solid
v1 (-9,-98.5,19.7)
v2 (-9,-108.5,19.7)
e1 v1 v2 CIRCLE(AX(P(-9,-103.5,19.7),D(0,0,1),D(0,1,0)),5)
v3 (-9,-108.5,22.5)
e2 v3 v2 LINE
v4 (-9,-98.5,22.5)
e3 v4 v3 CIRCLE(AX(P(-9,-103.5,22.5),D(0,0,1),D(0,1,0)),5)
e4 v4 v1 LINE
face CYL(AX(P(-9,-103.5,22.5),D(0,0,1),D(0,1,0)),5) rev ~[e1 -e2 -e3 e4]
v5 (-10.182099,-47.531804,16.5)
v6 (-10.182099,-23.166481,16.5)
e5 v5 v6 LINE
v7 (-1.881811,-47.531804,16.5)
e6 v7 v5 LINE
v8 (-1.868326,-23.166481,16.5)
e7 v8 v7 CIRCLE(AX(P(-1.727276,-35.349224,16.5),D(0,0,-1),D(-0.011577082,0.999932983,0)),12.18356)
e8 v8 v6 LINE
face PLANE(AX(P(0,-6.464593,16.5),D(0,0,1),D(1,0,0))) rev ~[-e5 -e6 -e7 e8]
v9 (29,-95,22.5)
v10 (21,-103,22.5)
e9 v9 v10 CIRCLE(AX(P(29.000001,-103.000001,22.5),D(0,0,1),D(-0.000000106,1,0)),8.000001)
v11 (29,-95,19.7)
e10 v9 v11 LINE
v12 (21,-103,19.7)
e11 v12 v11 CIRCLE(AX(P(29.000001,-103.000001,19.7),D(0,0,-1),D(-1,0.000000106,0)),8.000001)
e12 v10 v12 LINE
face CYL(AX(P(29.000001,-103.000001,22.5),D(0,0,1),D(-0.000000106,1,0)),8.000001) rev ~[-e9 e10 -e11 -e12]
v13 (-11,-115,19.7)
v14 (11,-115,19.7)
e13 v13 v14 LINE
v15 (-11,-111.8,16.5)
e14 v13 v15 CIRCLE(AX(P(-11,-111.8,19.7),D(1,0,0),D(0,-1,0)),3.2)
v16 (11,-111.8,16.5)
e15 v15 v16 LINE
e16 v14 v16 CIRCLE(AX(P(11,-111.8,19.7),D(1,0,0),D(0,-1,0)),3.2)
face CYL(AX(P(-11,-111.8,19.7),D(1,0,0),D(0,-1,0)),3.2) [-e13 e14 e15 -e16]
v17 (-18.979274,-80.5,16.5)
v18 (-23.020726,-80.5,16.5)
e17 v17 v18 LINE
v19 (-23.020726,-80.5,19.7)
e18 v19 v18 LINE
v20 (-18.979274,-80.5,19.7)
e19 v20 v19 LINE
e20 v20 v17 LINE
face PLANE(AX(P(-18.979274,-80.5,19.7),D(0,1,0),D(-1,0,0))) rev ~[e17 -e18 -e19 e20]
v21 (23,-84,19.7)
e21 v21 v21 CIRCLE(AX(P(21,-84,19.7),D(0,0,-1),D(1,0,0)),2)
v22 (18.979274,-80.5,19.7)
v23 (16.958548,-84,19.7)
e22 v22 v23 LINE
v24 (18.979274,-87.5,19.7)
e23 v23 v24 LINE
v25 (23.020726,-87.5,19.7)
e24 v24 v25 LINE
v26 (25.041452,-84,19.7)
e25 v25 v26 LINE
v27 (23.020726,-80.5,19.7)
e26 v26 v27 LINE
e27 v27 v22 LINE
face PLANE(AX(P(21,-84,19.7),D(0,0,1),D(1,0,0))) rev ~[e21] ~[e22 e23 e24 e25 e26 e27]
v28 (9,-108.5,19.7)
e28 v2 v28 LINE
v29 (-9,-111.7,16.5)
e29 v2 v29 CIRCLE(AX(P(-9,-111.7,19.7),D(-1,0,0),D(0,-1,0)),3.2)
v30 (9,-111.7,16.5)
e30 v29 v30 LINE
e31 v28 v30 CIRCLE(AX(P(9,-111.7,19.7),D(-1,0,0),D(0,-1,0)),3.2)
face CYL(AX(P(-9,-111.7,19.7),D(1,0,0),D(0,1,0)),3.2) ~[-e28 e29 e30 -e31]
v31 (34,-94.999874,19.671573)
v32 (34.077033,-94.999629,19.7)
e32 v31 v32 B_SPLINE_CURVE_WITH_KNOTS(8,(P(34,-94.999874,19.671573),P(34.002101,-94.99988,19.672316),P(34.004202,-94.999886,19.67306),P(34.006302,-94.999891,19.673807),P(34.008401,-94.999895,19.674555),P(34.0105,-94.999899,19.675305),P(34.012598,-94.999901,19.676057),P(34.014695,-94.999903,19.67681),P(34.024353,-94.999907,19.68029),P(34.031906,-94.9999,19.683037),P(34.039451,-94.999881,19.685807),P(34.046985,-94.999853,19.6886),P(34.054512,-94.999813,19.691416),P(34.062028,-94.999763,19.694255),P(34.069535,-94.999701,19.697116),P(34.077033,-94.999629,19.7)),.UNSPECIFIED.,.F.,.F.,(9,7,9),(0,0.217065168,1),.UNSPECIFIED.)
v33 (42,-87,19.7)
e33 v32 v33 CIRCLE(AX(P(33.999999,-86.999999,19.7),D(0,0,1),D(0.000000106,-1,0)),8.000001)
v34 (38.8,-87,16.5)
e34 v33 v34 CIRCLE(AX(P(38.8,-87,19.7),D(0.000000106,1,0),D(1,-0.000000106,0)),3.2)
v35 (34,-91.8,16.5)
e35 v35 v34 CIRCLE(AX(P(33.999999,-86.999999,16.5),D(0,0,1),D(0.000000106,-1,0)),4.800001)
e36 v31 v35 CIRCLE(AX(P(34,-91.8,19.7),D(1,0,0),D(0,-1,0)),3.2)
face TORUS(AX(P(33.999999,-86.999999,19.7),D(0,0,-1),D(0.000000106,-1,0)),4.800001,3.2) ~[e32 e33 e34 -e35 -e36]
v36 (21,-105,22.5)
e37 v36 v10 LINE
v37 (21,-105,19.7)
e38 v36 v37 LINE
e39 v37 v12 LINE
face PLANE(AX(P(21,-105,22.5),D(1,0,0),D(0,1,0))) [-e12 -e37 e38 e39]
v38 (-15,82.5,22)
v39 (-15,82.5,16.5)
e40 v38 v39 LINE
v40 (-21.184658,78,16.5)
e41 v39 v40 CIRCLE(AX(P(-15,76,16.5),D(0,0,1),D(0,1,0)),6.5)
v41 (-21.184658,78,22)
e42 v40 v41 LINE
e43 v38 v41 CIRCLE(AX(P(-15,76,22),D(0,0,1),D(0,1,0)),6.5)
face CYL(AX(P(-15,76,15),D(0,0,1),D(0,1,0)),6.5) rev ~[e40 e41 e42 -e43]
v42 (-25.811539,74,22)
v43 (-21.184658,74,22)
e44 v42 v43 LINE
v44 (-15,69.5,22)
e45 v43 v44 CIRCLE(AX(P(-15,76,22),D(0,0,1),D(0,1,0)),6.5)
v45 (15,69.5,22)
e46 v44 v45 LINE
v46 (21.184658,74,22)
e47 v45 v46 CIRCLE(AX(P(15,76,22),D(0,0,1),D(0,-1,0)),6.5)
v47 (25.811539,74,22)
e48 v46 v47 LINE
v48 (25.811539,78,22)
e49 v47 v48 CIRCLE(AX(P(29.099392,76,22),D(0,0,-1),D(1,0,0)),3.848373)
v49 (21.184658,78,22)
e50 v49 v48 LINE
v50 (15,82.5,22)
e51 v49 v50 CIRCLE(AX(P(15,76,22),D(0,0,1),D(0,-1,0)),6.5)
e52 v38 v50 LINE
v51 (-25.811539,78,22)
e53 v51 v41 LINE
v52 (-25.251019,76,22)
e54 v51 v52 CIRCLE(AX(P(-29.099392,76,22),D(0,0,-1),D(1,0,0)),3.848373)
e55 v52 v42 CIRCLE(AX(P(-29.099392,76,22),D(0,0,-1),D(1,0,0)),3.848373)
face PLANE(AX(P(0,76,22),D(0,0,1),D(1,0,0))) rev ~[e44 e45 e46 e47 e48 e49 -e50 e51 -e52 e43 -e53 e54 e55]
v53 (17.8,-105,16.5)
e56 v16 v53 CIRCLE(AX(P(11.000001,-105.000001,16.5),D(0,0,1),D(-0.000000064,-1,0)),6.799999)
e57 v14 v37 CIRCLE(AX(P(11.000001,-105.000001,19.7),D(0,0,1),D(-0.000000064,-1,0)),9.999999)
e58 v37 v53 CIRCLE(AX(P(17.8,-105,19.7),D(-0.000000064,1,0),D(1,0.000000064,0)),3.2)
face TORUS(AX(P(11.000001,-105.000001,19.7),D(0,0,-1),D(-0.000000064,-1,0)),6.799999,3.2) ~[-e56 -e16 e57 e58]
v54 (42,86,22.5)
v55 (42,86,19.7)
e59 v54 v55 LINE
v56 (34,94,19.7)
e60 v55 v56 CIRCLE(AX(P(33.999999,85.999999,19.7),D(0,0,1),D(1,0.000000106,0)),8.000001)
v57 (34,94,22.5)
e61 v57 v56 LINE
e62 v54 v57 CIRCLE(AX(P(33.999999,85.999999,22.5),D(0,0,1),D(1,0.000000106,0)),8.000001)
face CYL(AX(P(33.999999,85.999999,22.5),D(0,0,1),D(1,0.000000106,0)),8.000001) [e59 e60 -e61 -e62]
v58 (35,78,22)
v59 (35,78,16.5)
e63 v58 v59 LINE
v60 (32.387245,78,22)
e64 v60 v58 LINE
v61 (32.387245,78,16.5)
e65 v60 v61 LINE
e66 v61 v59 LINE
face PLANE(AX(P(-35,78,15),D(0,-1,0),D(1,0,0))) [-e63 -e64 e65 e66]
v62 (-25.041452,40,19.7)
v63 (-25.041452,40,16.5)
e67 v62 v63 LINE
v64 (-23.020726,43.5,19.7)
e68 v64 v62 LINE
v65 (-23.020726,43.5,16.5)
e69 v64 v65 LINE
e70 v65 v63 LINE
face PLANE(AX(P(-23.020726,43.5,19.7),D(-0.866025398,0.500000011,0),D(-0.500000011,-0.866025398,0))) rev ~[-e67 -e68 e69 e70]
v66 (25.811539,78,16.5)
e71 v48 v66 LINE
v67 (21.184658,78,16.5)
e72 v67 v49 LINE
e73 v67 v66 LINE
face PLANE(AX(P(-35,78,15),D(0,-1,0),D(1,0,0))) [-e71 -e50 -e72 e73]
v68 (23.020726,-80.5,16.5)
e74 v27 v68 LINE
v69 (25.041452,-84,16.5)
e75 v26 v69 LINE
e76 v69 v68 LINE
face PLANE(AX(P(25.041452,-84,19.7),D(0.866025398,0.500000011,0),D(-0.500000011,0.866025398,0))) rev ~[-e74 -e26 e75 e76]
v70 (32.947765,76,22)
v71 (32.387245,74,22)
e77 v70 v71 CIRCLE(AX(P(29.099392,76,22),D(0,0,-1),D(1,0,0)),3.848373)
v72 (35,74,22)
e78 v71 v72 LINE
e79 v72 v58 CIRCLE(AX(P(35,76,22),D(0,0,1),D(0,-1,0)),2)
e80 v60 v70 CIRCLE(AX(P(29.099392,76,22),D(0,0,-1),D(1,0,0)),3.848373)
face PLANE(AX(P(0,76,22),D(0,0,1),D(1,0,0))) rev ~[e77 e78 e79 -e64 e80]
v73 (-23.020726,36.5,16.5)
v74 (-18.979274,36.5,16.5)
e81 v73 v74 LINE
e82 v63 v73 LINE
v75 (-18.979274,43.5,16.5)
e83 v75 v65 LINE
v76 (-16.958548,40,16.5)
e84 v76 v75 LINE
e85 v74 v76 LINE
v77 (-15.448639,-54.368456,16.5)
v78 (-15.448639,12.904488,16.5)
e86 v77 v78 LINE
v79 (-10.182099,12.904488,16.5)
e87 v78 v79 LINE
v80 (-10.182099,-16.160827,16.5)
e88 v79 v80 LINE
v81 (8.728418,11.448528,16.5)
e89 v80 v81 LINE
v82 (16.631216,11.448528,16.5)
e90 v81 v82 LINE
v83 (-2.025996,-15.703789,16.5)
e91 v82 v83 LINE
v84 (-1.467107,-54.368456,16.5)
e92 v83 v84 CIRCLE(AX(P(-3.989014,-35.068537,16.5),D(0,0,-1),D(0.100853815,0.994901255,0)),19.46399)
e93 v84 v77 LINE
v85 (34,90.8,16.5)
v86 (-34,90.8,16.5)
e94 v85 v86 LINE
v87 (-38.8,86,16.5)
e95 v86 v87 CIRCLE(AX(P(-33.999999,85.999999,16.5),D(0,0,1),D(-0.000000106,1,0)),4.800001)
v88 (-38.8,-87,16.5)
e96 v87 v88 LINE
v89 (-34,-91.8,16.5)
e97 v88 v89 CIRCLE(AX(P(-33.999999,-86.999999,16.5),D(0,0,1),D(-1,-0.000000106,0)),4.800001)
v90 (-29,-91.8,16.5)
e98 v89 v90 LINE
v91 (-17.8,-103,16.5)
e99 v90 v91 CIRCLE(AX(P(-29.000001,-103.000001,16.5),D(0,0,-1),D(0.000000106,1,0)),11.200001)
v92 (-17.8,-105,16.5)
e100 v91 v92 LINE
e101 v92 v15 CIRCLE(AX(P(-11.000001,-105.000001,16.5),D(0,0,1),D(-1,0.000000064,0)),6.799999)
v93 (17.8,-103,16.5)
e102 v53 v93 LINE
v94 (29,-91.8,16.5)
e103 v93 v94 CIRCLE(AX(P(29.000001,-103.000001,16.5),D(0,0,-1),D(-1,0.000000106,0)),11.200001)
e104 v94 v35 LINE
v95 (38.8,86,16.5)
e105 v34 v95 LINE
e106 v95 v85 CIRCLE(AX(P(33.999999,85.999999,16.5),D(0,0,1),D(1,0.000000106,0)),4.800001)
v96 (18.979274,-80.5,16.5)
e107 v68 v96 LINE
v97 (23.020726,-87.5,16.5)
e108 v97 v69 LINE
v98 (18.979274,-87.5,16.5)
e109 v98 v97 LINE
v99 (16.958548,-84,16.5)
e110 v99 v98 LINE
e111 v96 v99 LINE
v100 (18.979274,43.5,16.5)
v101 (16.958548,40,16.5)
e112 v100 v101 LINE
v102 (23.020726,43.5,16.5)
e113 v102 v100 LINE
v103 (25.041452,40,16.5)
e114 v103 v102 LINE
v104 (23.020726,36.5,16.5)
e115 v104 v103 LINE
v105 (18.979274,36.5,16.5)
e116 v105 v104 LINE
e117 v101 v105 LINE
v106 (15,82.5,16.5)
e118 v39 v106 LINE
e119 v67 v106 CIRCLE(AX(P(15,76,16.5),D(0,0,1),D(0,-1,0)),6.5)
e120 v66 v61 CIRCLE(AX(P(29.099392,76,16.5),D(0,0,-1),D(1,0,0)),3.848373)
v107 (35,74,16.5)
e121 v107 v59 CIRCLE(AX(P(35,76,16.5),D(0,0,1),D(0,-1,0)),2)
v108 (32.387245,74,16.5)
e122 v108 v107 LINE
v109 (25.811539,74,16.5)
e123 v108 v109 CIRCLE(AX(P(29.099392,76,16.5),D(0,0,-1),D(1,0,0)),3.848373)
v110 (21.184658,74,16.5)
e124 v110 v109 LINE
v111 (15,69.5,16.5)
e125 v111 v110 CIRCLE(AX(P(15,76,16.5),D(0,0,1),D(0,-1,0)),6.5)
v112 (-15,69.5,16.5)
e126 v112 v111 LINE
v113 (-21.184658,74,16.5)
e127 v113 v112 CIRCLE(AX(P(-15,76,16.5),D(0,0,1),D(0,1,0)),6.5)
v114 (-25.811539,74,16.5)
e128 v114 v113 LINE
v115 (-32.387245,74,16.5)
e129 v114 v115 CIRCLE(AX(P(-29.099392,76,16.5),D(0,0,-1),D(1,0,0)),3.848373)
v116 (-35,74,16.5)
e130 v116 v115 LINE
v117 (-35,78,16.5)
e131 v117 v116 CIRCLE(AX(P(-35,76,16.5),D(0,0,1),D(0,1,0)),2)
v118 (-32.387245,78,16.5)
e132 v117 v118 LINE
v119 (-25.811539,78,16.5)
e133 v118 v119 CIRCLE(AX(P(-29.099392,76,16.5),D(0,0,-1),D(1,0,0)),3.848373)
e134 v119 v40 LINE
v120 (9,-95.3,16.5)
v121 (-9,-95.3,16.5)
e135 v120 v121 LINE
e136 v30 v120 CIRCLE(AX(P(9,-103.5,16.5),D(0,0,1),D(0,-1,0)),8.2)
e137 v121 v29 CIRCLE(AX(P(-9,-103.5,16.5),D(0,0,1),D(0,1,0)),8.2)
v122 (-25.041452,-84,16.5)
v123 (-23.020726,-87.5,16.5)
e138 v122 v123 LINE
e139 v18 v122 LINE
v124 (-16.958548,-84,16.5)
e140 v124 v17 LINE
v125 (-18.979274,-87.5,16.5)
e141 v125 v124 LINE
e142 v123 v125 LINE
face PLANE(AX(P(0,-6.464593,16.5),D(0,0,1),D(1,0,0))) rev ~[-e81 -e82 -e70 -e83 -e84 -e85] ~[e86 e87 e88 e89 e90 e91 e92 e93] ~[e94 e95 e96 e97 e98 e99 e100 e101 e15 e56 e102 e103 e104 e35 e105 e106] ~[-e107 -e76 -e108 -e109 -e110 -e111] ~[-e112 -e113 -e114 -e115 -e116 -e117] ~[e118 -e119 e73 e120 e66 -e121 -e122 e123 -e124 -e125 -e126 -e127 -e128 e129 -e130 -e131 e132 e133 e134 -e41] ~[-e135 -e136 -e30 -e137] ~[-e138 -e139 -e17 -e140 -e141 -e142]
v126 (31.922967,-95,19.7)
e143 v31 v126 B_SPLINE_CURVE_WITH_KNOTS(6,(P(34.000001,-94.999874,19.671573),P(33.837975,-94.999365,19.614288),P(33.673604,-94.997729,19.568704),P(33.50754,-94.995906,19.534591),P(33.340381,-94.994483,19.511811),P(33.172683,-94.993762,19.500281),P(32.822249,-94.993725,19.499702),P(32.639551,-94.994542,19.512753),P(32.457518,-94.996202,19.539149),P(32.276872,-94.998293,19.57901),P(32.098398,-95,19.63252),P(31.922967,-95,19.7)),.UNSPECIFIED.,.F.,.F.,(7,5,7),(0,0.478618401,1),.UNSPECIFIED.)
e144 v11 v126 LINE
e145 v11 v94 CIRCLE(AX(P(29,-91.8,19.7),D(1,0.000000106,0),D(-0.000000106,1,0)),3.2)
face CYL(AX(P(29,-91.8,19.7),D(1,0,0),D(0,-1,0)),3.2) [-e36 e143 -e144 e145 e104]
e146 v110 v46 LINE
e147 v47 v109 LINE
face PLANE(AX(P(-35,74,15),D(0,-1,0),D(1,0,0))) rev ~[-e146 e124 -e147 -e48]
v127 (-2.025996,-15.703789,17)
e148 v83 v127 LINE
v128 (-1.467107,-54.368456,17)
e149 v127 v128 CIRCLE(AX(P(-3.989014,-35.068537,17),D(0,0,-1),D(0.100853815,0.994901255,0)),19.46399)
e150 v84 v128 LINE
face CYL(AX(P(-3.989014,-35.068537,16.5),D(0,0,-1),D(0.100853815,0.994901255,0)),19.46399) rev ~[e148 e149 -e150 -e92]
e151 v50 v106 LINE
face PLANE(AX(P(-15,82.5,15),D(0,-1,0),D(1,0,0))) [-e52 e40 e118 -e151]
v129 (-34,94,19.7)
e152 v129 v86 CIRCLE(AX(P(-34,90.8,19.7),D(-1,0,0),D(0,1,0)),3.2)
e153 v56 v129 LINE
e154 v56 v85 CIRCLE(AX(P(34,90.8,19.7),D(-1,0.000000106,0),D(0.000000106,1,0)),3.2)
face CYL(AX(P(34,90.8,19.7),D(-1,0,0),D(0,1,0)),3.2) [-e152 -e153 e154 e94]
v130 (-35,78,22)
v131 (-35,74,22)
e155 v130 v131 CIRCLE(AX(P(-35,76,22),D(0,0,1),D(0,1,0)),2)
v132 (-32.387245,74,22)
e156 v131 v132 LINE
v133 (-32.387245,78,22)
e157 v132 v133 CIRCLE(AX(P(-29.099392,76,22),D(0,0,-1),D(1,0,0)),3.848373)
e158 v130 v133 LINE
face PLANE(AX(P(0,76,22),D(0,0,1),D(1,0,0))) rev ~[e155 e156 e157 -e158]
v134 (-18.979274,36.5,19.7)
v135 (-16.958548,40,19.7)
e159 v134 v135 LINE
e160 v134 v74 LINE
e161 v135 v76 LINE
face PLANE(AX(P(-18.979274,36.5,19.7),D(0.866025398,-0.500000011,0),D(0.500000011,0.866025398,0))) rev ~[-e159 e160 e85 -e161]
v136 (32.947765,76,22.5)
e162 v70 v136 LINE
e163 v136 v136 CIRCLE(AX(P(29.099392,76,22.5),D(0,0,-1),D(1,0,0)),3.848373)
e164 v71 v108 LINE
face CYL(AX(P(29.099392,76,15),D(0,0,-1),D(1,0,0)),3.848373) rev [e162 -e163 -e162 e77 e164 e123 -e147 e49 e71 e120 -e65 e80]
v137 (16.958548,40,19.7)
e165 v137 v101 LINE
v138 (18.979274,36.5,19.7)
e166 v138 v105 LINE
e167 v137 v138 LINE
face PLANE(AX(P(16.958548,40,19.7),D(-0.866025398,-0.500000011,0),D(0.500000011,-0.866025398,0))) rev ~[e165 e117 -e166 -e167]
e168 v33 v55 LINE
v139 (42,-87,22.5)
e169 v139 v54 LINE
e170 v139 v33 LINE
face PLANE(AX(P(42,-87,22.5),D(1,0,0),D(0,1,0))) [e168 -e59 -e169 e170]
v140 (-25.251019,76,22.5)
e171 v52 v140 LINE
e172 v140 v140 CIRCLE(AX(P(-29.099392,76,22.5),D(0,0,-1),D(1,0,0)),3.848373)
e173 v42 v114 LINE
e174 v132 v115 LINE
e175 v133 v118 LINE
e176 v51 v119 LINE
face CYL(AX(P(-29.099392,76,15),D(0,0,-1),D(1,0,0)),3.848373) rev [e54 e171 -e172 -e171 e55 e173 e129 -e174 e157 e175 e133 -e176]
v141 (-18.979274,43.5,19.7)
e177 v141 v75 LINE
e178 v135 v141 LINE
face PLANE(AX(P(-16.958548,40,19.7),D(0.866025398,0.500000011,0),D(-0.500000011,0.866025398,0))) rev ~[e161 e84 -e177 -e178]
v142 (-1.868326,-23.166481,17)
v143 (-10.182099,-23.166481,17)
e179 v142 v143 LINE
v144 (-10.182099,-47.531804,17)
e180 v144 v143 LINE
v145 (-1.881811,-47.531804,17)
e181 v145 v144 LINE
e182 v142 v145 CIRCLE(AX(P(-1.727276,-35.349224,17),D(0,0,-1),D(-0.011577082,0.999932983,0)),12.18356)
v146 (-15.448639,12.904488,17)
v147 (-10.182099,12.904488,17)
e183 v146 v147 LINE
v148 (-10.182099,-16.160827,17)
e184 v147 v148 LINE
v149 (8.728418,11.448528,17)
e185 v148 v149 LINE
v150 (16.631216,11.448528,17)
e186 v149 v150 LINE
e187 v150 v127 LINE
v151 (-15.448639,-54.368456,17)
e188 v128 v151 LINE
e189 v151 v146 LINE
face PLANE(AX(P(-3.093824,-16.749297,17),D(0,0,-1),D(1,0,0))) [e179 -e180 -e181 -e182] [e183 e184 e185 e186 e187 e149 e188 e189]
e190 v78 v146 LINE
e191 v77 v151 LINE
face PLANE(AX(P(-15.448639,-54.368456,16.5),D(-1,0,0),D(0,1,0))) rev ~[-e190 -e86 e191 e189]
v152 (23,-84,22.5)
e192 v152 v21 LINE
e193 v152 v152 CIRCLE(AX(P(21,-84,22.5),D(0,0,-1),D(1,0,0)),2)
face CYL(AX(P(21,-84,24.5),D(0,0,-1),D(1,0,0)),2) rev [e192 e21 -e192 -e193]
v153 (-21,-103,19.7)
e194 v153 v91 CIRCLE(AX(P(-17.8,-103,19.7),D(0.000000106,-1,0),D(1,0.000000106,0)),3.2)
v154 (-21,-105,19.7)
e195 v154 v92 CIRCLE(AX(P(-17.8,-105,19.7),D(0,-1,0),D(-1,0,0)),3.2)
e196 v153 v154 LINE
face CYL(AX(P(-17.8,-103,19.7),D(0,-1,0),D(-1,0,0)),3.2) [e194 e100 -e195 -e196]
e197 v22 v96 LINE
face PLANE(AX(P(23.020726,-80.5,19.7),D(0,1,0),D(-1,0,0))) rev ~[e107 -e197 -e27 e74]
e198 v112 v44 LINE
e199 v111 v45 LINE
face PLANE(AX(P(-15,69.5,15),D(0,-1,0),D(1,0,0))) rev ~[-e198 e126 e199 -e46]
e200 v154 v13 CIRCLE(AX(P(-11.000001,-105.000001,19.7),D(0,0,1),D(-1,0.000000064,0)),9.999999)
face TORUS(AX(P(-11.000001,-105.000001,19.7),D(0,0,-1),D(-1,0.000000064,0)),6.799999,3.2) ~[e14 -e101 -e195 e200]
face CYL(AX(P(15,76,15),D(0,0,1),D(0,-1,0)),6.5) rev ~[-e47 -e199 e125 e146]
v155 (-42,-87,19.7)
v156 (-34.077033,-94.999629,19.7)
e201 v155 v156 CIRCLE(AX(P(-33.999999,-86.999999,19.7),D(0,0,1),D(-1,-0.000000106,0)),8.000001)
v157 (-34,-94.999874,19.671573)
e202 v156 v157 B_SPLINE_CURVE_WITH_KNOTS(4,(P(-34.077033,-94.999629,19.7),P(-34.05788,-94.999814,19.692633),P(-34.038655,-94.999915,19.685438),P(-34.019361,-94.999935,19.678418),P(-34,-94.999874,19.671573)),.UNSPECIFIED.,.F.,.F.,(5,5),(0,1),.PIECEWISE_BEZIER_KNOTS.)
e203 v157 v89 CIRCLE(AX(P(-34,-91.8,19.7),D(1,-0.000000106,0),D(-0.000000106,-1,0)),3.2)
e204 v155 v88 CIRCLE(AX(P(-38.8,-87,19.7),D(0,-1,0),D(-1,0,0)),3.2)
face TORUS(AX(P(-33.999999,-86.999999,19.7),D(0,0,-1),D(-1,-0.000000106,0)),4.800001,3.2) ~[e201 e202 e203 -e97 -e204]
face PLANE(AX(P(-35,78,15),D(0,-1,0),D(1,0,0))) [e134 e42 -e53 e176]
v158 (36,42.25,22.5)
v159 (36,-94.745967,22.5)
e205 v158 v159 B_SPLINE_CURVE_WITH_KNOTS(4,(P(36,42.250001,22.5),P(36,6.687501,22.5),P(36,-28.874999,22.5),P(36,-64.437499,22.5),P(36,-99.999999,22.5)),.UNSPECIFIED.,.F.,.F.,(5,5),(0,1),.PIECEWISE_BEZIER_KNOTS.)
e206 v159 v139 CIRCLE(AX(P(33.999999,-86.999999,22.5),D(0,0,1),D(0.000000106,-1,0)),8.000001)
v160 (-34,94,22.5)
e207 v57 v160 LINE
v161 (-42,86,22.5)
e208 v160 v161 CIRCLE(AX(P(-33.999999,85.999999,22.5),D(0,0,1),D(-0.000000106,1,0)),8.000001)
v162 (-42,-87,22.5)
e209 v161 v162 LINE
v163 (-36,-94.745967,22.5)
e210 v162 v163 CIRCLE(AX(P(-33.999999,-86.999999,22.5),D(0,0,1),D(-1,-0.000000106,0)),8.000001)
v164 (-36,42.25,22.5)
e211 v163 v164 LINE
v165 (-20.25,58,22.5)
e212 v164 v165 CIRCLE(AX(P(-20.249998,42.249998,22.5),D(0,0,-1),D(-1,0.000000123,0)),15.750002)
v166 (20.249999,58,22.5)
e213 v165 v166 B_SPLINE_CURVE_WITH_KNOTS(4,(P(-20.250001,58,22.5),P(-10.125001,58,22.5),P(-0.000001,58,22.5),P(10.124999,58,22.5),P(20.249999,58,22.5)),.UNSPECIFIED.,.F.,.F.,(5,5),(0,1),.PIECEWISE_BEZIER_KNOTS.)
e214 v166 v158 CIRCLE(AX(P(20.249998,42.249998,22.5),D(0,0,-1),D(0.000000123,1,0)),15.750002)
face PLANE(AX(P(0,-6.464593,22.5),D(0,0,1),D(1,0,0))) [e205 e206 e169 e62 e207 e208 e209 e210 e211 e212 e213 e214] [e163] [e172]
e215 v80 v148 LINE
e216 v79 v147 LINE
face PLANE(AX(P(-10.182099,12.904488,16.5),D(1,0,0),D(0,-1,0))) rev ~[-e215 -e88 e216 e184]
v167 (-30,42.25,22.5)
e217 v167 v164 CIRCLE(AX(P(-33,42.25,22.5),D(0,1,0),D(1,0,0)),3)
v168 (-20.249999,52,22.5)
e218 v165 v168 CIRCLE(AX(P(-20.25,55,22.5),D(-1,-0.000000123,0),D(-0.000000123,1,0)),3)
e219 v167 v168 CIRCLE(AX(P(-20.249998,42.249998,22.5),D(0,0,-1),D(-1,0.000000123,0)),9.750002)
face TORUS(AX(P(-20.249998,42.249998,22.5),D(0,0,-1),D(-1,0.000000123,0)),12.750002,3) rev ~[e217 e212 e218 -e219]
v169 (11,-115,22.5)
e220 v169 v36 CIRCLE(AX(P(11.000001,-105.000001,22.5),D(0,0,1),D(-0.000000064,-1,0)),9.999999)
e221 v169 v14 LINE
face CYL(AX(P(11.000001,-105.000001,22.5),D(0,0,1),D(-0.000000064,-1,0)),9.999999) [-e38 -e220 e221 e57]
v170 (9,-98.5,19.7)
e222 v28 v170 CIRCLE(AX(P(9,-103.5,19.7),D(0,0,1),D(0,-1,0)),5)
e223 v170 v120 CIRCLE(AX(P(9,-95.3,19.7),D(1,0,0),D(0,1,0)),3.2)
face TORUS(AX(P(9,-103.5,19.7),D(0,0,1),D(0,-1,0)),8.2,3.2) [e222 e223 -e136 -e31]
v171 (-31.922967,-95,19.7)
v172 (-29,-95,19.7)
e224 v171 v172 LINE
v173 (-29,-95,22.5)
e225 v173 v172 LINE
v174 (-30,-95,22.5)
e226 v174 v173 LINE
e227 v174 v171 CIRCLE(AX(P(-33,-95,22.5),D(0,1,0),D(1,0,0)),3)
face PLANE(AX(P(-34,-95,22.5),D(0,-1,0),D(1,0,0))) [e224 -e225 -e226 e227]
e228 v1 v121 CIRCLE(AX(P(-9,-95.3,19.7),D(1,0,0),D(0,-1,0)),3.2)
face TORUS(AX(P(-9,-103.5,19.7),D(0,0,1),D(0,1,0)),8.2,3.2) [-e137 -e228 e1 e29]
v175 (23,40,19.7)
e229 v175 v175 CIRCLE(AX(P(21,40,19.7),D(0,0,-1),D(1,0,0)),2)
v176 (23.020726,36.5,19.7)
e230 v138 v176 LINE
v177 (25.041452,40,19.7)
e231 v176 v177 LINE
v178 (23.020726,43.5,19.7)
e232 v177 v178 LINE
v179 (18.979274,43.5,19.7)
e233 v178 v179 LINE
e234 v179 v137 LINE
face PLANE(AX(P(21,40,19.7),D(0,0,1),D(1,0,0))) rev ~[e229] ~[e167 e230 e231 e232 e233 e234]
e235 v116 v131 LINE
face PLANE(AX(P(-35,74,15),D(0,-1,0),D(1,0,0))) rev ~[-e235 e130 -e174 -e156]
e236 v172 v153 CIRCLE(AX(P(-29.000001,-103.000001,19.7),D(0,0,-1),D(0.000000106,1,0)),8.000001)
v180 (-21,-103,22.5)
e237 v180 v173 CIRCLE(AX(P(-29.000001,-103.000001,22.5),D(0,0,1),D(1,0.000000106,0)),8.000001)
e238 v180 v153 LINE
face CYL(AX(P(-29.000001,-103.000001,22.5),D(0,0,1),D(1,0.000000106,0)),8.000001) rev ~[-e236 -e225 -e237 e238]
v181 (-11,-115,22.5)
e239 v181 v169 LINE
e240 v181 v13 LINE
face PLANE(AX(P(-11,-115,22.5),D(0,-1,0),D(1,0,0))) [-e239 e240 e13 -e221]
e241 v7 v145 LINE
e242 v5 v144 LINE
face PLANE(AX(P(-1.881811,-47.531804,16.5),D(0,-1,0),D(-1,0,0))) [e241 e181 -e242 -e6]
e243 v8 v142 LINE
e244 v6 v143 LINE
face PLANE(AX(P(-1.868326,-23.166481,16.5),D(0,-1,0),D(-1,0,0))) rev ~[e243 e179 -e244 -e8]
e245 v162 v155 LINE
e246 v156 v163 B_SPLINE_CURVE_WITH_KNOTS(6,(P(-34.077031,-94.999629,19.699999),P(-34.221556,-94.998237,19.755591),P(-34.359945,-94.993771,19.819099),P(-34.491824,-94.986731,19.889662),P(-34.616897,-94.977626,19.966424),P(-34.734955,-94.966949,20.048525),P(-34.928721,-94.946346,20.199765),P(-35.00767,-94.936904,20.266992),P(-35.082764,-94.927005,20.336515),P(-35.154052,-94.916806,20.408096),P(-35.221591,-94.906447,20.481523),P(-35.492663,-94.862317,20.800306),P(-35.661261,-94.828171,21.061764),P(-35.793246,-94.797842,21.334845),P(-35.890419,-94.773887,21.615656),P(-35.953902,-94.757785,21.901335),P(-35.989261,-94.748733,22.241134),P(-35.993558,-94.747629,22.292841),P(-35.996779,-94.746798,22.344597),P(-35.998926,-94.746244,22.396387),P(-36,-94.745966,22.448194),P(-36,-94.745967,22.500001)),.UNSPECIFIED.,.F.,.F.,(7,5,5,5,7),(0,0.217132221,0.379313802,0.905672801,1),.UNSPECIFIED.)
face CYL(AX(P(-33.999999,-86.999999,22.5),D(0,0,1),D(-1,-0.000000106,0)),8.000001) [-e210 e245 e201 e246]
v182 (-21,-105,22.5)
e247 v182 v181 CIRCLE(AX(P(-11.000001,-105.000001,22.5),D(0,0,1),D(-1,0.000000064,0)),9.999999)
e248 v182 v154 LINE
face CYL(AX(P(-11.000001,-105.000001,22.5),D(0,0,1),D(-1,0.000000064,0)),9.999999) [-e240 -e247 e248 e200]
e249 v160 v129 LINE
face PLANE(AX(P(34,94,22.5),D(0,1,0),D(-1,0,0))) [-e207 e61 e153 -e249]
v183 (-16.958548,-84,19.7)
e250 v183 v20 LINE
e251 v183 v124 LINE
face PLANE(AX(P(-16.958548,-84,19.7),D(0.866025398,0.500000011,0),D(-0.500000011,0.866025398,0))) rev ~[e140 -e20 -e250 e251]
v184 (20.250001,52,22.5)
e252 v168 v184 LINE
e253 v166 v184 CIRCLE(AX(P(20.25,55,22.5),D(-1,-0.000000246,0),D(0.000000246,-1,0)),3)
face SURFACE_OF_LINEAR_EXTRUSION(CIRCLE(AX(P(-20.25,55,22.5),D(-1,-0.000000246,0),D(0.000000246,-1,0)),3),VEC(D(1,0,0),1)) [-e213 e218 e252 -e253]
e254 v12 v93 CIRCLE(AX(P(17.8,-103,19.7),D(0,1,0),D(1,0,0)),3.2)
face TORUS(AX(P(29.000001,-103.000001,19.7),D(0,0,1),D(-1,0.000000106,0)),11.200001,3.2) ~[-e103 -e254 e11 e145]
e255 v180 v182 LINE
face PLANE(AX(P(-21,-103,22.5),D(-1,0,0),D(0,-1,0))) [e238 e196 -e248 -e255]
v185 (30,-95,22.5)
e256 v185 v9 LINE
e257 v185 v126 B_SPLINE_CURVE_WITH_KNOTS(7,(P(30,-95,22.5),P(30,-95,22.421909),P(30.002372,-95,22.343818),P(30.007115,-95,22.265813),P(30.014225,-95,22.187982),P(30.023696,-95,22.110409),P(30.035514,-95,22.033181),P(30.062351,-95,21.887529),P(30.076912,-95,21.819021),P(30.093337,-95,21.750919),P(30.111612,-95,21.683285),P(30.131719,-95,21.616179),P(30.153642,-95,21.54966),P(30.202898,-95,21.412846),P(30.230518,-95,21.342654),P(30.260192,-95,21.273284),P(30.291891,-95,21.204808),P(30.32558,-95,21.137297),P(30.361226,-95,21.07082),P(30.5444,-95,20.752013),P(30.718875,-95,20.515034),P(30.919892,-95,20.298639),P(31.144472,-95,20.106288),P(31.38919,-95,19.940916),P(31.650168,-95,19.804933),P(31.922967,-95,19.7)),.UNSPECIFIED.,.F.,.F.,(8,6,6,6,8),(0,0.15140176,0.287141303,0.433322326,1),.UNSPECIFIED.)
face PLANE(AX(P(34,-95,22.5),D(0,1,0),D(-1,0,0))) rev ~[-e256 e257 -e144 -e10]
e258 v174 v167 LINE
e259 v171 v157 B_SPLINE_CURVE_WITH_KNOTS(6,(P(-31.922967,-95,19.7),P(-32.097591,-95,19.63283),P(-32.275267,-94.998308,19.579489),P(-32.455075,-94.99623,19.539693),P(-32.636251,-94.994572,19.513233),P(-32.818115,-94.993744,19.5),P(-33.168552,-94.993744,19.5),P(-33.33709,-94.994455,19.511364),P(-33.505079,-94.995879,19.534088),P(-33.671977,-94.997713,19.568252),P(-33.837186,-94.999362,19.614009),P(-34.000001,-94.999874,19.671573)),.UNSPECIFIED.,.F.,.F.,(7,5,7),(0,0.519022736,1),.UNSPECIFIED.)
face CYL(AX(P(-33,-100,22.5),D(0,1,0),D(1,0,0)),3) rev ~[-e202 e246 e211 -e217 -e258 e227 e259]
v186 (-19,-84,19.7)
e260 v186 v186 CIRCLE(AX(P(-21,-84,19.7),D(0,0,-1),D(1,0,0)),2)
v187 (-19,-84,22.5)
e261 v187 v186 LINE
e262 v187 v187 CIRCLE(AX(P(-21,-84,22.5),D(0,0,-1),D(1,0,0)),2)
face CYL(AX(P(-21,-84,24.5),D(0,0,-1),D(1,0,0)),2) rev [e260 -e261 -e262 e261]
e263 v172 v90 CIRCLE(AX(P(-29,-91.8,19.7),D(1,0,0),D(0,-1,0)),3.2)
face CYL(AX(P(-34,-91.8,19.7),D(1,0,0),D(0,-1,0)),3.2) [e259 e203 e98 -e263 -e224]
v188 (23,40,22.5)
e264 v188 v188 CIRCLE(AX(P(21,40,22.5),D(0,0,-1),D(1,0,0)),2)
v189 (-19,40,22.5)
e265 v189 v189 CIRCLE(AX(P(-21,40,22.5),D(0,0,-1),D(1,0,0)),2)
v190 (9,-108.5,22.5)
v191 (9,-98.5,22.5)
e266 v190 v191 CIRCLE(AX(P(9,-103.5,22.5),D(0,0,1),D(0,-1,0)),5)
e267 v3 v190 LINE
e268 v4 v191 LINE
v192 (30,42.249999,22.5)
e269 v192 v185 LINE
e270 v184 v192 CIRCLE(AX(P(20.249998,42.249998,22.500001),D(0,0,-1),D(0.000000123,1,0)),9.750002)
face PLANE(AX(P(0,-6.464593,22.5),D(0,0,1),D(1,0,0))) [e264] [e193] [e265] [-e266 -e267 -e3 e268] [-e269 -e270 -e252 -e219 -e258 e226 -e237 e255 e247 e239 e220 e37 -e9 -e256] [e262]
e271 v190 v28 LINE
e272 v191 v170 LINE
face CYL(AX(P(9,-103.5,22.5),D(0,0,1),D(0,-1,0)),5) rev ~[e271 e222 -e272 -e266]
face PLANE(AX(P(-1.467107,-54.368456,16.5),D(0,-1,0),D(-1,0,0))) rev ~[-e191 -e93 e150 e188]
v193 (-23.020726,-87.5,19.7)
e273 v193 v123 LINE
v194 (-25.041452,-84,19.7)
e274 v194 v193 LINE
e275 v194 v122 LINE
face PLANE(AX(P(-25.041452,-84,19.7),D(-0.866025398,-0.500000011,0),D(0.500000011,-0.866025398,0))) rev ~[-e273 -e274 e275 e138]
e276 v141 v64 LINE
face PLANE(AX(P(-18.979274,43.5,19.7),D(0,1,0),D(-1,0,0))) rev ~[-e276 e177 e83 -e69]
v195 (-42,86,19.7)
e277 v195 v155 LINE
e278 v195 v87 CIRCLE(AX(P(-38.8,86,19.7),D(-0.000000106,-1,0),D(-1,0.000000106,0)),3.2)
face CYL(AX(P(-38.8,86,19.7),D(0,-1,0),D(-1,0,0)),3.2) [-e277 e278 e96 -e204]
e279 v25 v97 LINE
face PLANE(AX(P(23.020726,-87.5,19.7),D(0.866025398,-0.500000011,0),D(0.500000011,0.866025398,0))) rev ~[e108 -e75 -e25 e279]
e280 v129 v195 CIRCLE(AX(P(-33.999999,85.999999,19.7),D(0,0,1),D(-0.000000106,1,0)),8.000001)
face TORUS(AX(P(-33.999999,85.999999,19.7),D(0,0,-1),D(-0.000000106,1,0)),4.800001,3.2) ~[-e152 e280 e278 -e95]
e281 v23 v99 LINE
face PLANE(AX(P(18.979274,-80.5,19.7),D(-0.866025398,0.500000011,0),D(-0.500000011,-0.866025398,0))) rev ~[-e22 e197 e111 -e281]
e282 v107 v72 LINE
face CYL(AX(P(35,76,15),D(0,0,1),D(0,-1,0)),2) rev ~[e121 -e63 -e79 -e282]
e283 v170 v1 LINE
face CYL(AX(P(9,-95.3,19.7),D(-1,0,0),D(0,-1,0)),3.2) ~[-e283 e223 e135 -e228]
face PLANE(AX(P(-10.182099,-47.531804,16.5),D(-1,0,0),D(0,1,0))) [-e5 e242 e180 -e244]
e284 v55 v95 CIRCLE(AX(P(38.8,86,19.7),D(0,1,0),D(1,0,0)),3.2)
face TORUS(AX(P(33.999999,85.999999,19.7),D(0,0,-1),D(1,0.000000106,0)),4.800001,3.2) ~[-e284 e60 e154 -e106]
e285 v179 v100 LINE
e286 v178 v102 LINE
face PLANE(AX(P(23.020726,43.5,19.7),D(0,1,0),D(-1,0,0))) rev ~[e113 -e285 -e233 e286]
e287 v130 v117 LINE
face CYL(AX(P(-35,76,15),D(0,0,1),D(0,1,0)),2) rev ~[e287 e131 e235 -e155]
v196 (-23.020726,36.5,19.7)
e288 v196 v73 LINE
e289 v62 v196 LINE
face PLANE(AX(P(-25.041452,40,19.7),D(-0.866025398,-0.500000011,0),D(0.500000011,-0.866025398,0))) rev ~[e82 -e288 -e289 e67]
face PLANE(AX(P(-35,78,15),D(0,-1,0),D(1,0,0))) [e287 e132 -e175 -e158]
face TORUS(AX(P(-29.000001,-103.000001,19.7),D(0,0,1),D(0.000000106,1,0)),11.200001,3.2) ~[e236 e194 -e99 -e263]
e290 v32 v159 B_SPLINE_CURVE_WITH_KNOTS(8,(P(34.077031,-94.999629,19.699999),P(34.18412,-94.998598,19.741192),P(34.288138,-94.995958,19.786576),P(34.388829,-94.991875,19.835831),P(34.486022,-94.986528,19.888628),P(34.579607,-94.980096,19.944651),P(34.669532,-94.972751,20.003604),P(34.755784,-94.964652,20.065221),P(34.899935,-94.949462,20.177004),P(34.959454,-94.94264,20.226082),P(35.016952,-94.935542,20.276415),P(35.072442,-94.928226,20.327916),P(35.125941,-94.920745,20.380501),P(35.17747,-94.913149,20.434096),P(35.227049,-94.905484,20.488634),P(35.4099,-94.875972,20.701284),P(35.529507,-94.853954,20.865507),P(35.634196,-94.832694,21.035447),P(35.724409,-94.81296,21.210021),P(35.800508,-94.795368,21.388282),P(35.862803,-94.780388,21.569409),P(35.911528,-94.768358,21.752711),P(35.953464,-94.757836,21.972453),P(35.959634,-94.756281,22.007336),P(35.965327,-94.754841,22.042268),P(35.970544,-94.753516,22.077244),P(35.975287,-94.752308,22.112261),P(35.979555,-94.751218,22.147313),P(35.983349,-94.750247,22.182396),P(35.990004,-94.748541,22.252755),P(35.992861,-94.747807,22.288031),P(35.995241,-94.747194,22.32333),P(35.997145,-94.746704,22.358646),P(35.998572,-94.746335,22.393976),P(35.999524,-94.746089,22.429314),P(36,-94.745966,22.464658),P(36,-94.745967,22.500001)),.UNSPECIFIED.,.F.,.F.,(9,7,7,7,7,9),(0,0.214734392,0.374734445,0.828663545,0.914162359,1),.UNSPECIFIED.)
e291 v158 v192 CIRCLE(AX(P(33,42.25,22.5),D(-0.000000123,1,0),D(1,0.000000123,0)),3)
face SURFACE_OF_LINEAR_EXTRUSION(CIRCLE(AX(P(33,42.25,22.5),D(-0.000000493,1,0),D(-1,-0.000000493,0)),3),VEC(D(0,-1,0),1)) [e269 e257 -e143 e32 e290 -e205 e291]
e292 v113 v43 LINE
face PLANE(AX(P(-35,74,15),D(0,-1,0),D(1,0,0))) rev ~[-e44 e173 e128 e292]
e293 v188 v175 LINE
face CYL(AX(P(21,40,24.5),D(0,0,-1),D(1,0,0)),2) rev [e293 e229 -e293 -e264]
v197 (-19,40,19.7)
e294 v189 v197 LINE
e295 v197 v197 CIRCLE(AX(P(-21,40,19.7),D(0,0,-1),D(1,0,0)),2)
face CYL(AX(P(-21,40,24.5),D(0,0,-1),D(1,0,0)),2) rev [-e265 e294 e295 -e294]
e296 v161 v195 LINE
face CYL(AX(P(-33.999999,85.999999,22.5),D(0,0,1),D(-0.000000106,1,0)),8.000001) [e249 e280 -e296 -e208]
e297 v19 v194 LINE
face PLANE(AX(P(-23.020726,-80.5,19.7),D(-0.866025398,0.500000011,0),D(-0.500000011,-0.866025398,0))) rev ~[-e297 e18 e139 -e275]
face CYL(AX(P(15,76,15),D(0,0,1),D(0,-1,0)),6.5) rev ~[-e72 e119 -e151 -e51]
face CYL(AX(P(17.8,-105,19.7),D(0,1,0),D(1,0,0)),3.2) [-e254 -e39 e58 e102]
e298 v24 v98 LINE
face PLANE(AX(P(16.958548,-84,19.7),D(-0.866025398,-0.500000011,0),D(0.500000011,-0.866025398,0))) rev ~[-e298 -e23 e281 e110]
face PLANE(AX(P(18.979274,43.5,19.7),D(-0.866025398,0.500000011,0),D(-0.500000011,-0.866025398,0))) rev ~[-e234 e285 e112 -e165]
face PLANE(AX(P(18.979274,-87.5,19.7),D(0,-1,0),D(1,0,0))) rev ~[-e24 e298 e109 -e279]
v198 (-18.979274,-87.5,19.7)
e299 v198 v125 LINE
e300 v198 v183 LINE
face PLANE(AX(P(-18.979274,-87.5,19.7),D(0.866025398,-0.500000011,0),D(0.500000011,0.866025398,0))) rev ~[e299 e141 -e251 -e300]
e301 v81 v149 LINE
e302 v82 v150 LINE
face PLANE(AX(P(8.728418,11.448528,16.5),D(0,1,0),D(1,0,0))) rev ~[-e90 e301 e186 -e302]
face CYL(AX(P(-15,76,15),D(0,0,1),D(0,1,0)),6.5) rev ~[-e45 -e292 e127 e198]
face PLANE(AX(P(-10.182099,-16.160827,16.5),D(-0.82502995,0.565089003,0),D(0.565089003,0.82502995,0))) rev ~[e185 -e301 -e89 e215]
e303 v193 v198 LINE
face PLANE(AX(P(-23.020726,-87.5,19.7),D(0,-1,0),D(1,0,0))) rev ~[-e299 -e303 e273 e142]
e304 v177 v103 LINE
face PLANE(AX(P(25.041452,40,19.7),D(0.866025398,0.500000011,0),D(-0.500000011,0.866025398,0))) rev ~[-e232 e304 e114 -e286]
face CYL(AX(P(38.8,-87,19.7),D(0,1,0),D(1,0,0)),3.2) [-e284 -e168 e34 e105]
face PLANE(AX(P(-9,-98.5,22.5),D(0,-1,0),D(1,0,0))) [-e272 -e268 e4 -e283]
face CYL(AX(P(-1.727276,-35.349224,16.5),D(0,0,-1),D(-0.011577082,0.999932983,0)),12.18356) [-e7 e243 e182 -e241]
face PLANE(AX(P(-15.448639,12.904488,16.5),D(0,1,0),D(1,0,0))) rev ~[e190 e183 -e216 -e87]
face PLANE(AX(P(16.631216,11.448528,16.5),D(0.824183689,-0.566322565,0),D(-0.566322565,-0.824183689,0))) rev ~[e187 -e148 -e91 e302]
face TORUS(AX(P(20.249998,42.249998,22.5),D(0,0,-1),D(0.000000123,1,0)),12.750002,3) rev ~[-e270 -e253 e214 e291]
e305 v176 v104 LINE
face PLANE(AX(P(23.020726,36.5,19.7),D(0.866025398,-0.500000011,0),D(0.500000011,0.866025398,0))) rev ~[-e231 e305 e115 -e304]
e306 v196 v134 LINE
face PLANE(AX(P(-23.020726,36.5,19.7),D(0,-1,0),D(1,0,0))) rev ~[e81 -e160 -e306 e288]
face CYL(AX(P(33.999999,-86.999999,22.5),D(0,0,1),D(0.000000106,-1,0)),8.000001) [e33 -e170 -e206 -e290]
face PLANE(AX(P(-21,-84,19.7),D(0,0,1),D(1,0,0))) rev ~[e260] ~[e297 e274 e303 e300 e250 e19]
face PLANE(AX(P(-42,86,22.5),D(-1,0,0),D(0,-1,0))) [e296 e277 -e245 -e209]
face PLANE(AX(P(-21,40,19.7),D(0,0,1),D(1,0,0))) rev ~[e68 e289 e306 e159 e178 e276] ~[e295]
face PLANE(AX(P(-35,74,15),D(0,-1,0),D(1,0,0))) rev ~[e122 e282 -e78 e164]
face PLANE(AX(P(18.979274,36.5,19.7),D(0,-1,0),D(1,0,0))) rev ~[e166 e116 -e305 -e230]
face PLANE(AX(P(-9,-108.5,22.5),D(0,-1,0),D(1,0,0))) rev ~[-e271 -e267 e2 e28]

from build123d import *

# Parameters (mm, degrees)
PAD046_DEPTH      = 3.2
PAD047_DEPTH      = 7
PAD047_DEPTH_BACK = 2
SKETCH124_R       = 3.848373
PAD048_DEPTH      = 8
PAD048_DEPTH_BACK = 2
PAD049_DEPTH      = 7
SKETCH110_R       = 3
PAD042_DEPTH      = 6
FILLET_R          = 3.2
POCKET042_DEPTH   = 0.5


with BuildPart() as m4_bolt_cavity:
    # Sketch116 → Revolution003 (revolve)
    with BuildSketch(Plane.XZ):
        Polygon((0, 0), (3.5, 0), (3.5, -4), (2, -4), (2, -14), (0, -14), align=None)
    revolve(axis=Axis((0, 0, 0), (0, 0, 1)))

    # Sketch117 → Pad046 (new body)
    with BuildSketch(Plane.XY.offset(-8.8)):
        Polygon((2.020726, 3.5), (-2.020726, 3.5), (-4.041452, 0), (-2.020726, -3.5), (2.020726, -3.5), (4.041452, 0), align=None)
    extrude(amount=-PAD046_DEPTH)


with BuildPart() as body032:
    # Body032 base: copy of m4-bolt-cavity
    add(m4_bolt_cavity.part)


with BuildPart() as body032_1:
    # Body032 placement: moved
    add(body032.part.moved(Location((21, 40, 28.5))))


with BuildPart() as body033:
    # Body033 base: copy of Body032
    add(body032_1.part)


with BuildPart() as body033_1:
    # Clone003 placement: moved
    add(body033.part.moved(Location((2, 5, -4.5))))


with BuildPart() as body033_2:
    # Body033 placement: moved
    add(body033_1.part.moved(Location((-44, -5, 4.5))))


with BuildPart() as roller_cavity_clone_top:
    # Sketch123 → Pad047 (new body, two sides)
    with BuildSketch(Plane.XY) as pad047_sk:
        with BuildLine():
            ThreePointArc((-35, 2), (-37, 0), (-35, -2))
            Line((-35, -2), (35, -2))
            ThreePointArc((35, -2), (37, 0), (35, 2))
            Line((-35, 2), (35, 2))
        make_face()
    extrude(amount=PAD047_DEPTH)
    extrude(pad047_sk.sketch, amount=-PAD047_DEPTH_BACK)

    # Sketch124 → Pad048 (join, two sides)
    with BuildSketch(Plane.XY) as pad048_sk:
        with Locations((-29.099392, 0)):
            Circle(SKETCH124_R)
        with Locations((29.099392, 0)):
            Circle(SKETCH124_R)
    extrude(amount=PAD048_DEPTH)
    extrude(pad048_sk.sketch, amount=-PAD048_DEPTH_BACK)

    # Sketch122 → Pad049 (join, symmetric)
    with BuildSketch(Plane.XY):
        with BuildLine():
            ThreePointArc((-15, 6.5), (-21.5, 0), (-15, -6.5))
            Line((-15, -6.5), (15, -6.5))
            ThreePointArc((15, -6.5), (21.5, 0), (15, 6.5))
            Line((-15, 6.5), (15, 6.5))
        make_face()
    extrude(amount=PAD049_DEPTH, both=True)


with BuildPart() as roller_cavity_clone_top_1:
    # Body037 placement: moved
    add(roller_cavity_clone_top.part.moved(Location((0, 76, 19))))


with BuildPart() as roller_cavity_clone_top_2:
    # Clone007 placement: moved
    add(roller_cavity_clone_top_1.part.moved(Location((0, 0, -4))))


with BuildPart() as body041:
    # Body041 base: copy of m4-bolt-cavity
    add(m4_bolt_cavity.part)


with BuildPart() as body041_1:
    # Body041 placement: moved
    add(body041.part.moved(Location((-21, -84, 28.5))))


with BuildPart() as body042:
    # Body042 base: copy of m4-bolt-cavity
    add(m4_bolt_cavity.part)


with BuildPart() as body042_1:
    # Body042 placement: moved
    add(body042.part.moved(Location((21, -84, 28.5))))


with BuildPart() as top_cavities:
    # AdditivePipe001: sweep along a path in Sketch109
    with BuildLine(Plane.XY.offset(22.5)) as additivepipe001_path:
        Line((-33, -100), (-33, 42.25))
        ThreePointArc((-33, 42.25), (-29.265611, 51.265611), (-20.25, 55))
        Line((-20.25, 55), (20.25, 55))
        ThreePointArc((20.25, 55), (29.265611, 51.265611), (33, 42.25))
        Line((33, 42.25), (33, -100))
    # Sketch110 → AdditivePipe001 (sweep)
    with BuildSketch(Plane(origin=(-33, 0, 22.5), x_dir=(1, 0, 0), z_dir=(0, -1, 0))):
        Circle(SKETCH110_R)
    sweep(path=additivepipe001_path.line, is_frenet=True)

    # Fusion: union Body032, Body033, roller-cavity-clone-top, Body041, Body042
    add(body032_1.part)
    add(body033_2.part)
    add(roller_cavity_clone_top_2.part)
    add(body041_1.part)
    add(body042_1.part)


with BuildPart() as top:
    # Sketch106 → Pad042 (new body)
    with BuildSketch(Plane.XY):
        with BuildLine():
            Line((-42, 86), (-42, -87))
            ThreePointArc((-42, -87), (-39.656854, -92.656854), (-34, -95))
            Line((-34, -95), (-29, -95))
            ThreePointArc((-21, -103), (-23.343146, -97.343146), (-29, -95))
            Line((-21, -103), (-21, -105))
            ThreePointArc((-21, -105), (-18.071068, -112.071068), (-11, -115))
            Line((-11, -115), (11, -115))
            ThreePointArc((11, -115), (18.071068, -112.071068), (21, -105))
            Line((21, -105), (21, -103))
            ThreePointArc((29, -95), (23.343146, -97.343146), (21, -103))
            Line((34, -95), (29, -95))
            ThreePointArc((34, -95), (39.656854, -92.656854), (42, -87))
            Line((42, -87), (42, 86))
            ThreePointArc((42, 86), (39.656854, 91.656854), (34, 94))
            Line((34, 94), (-34, 94))
            ThreePointArc((-34, 94), (-39.656854, 91.656854), (-42, 86))
        make_face()
        with BuildLine():
            ThreePointArc((-9, -98.5), (-14, -103.5), (-9, -108.5))
            Line((-9, -108.5), (9, -108.5))
            ThreePointArc((9, -108.5), (14, -103.5), (9, -98.5))
            Line((-9, -98.5), (9, -98.5))
        make_face(mode=Mode.SUBTRACT)
    extrude(amount=-PAD042_DEPTH)

    # Fillet
    fillet_edges = [top.edges().sort_by_distance(p)[0] for p in [
        (0, -115, -6),
        (18.071068, -112.071068, -6),
        (23.343146, -97.343146, -6),
        (21, -104, -6),
        (31.5, -95, -6),
        (39.656854, -92.656854, -6),
        (42, -0.5, -6),
        (39.656854, 91.656854, -6),
        (0, 94, -6),
        (-39.656854, 91.656854, -6),
        (-42, -0.5, -6),
        (-18.071068, -112.071068, -6),
        (-21, -104, -6),
        (-23.343146, -97.343146, -6),
        (-39.656854, -92.656854, -6),
        (-31.5, -95, -6),
        (14, -103.5, -6),
        (0, -98.5, -6),
        (0, -108.5, -6),
        (-14, -103.5, -6),
    ]]
    fillet(fillet_edges, radius=FILLET_R)

    # Sketch112 → Pocket042 (cut)
    with BuildSketch(Plane(origin=(0, -25, -6), x_dir=(1, 0, 0), z_dir=(0, 0, -1))):
        with BuildLine():
            Line((-15.448639, 29.368456), (-15.448639, -37.904488))
            Line((-15.448639, -37.904488), (-10.182099, -37.904488))
            Line((-10.182099, -37.904488), (-10.182099, -8.839173))
            Line((-10.182099, -8.839173), (8.728418, -36.448528))
            Line((8.728418, -36.448528), (16.631216, -36.448528))
            Line((16.631216, -36.448528), (-2.025996, -9.296211))
            ThreePointArc((-2.025996, -9.296211), (15.472943, 9.787219), (-1.467107, 29.368456))
            Line((-1.467107, 29.368456), (-15.448639, 29.368456))
        make_face()
        with BuildLine():
            Line((-10.182099, 22.531804), (-10.182099, -1.833519))
            Line((-1.868326, -1.833519), (-10.182099, -1.833519))
            ThreePointArc((-1.868326, -1.833519), (10.456282, 10.355967), (-1.881811, 22.531804))
            Line((-1.881811, 22.531804), (-10.182099, 22.531804))
        make_face(mode=Mode.SUBTRACT)
    extrude(amount=-POCKET042_DEPTH, mode=Mode.SUBTRACT)


with BuildPart() as top_1:
    # Body025 placement: moved
    add(top.part.moved(Location((0, 0, 22.5))))

    # Cut006: cut top-cavities
    add(top_cavities.part, mode=Mode.SUBTRACT)


solid = top_1.part
